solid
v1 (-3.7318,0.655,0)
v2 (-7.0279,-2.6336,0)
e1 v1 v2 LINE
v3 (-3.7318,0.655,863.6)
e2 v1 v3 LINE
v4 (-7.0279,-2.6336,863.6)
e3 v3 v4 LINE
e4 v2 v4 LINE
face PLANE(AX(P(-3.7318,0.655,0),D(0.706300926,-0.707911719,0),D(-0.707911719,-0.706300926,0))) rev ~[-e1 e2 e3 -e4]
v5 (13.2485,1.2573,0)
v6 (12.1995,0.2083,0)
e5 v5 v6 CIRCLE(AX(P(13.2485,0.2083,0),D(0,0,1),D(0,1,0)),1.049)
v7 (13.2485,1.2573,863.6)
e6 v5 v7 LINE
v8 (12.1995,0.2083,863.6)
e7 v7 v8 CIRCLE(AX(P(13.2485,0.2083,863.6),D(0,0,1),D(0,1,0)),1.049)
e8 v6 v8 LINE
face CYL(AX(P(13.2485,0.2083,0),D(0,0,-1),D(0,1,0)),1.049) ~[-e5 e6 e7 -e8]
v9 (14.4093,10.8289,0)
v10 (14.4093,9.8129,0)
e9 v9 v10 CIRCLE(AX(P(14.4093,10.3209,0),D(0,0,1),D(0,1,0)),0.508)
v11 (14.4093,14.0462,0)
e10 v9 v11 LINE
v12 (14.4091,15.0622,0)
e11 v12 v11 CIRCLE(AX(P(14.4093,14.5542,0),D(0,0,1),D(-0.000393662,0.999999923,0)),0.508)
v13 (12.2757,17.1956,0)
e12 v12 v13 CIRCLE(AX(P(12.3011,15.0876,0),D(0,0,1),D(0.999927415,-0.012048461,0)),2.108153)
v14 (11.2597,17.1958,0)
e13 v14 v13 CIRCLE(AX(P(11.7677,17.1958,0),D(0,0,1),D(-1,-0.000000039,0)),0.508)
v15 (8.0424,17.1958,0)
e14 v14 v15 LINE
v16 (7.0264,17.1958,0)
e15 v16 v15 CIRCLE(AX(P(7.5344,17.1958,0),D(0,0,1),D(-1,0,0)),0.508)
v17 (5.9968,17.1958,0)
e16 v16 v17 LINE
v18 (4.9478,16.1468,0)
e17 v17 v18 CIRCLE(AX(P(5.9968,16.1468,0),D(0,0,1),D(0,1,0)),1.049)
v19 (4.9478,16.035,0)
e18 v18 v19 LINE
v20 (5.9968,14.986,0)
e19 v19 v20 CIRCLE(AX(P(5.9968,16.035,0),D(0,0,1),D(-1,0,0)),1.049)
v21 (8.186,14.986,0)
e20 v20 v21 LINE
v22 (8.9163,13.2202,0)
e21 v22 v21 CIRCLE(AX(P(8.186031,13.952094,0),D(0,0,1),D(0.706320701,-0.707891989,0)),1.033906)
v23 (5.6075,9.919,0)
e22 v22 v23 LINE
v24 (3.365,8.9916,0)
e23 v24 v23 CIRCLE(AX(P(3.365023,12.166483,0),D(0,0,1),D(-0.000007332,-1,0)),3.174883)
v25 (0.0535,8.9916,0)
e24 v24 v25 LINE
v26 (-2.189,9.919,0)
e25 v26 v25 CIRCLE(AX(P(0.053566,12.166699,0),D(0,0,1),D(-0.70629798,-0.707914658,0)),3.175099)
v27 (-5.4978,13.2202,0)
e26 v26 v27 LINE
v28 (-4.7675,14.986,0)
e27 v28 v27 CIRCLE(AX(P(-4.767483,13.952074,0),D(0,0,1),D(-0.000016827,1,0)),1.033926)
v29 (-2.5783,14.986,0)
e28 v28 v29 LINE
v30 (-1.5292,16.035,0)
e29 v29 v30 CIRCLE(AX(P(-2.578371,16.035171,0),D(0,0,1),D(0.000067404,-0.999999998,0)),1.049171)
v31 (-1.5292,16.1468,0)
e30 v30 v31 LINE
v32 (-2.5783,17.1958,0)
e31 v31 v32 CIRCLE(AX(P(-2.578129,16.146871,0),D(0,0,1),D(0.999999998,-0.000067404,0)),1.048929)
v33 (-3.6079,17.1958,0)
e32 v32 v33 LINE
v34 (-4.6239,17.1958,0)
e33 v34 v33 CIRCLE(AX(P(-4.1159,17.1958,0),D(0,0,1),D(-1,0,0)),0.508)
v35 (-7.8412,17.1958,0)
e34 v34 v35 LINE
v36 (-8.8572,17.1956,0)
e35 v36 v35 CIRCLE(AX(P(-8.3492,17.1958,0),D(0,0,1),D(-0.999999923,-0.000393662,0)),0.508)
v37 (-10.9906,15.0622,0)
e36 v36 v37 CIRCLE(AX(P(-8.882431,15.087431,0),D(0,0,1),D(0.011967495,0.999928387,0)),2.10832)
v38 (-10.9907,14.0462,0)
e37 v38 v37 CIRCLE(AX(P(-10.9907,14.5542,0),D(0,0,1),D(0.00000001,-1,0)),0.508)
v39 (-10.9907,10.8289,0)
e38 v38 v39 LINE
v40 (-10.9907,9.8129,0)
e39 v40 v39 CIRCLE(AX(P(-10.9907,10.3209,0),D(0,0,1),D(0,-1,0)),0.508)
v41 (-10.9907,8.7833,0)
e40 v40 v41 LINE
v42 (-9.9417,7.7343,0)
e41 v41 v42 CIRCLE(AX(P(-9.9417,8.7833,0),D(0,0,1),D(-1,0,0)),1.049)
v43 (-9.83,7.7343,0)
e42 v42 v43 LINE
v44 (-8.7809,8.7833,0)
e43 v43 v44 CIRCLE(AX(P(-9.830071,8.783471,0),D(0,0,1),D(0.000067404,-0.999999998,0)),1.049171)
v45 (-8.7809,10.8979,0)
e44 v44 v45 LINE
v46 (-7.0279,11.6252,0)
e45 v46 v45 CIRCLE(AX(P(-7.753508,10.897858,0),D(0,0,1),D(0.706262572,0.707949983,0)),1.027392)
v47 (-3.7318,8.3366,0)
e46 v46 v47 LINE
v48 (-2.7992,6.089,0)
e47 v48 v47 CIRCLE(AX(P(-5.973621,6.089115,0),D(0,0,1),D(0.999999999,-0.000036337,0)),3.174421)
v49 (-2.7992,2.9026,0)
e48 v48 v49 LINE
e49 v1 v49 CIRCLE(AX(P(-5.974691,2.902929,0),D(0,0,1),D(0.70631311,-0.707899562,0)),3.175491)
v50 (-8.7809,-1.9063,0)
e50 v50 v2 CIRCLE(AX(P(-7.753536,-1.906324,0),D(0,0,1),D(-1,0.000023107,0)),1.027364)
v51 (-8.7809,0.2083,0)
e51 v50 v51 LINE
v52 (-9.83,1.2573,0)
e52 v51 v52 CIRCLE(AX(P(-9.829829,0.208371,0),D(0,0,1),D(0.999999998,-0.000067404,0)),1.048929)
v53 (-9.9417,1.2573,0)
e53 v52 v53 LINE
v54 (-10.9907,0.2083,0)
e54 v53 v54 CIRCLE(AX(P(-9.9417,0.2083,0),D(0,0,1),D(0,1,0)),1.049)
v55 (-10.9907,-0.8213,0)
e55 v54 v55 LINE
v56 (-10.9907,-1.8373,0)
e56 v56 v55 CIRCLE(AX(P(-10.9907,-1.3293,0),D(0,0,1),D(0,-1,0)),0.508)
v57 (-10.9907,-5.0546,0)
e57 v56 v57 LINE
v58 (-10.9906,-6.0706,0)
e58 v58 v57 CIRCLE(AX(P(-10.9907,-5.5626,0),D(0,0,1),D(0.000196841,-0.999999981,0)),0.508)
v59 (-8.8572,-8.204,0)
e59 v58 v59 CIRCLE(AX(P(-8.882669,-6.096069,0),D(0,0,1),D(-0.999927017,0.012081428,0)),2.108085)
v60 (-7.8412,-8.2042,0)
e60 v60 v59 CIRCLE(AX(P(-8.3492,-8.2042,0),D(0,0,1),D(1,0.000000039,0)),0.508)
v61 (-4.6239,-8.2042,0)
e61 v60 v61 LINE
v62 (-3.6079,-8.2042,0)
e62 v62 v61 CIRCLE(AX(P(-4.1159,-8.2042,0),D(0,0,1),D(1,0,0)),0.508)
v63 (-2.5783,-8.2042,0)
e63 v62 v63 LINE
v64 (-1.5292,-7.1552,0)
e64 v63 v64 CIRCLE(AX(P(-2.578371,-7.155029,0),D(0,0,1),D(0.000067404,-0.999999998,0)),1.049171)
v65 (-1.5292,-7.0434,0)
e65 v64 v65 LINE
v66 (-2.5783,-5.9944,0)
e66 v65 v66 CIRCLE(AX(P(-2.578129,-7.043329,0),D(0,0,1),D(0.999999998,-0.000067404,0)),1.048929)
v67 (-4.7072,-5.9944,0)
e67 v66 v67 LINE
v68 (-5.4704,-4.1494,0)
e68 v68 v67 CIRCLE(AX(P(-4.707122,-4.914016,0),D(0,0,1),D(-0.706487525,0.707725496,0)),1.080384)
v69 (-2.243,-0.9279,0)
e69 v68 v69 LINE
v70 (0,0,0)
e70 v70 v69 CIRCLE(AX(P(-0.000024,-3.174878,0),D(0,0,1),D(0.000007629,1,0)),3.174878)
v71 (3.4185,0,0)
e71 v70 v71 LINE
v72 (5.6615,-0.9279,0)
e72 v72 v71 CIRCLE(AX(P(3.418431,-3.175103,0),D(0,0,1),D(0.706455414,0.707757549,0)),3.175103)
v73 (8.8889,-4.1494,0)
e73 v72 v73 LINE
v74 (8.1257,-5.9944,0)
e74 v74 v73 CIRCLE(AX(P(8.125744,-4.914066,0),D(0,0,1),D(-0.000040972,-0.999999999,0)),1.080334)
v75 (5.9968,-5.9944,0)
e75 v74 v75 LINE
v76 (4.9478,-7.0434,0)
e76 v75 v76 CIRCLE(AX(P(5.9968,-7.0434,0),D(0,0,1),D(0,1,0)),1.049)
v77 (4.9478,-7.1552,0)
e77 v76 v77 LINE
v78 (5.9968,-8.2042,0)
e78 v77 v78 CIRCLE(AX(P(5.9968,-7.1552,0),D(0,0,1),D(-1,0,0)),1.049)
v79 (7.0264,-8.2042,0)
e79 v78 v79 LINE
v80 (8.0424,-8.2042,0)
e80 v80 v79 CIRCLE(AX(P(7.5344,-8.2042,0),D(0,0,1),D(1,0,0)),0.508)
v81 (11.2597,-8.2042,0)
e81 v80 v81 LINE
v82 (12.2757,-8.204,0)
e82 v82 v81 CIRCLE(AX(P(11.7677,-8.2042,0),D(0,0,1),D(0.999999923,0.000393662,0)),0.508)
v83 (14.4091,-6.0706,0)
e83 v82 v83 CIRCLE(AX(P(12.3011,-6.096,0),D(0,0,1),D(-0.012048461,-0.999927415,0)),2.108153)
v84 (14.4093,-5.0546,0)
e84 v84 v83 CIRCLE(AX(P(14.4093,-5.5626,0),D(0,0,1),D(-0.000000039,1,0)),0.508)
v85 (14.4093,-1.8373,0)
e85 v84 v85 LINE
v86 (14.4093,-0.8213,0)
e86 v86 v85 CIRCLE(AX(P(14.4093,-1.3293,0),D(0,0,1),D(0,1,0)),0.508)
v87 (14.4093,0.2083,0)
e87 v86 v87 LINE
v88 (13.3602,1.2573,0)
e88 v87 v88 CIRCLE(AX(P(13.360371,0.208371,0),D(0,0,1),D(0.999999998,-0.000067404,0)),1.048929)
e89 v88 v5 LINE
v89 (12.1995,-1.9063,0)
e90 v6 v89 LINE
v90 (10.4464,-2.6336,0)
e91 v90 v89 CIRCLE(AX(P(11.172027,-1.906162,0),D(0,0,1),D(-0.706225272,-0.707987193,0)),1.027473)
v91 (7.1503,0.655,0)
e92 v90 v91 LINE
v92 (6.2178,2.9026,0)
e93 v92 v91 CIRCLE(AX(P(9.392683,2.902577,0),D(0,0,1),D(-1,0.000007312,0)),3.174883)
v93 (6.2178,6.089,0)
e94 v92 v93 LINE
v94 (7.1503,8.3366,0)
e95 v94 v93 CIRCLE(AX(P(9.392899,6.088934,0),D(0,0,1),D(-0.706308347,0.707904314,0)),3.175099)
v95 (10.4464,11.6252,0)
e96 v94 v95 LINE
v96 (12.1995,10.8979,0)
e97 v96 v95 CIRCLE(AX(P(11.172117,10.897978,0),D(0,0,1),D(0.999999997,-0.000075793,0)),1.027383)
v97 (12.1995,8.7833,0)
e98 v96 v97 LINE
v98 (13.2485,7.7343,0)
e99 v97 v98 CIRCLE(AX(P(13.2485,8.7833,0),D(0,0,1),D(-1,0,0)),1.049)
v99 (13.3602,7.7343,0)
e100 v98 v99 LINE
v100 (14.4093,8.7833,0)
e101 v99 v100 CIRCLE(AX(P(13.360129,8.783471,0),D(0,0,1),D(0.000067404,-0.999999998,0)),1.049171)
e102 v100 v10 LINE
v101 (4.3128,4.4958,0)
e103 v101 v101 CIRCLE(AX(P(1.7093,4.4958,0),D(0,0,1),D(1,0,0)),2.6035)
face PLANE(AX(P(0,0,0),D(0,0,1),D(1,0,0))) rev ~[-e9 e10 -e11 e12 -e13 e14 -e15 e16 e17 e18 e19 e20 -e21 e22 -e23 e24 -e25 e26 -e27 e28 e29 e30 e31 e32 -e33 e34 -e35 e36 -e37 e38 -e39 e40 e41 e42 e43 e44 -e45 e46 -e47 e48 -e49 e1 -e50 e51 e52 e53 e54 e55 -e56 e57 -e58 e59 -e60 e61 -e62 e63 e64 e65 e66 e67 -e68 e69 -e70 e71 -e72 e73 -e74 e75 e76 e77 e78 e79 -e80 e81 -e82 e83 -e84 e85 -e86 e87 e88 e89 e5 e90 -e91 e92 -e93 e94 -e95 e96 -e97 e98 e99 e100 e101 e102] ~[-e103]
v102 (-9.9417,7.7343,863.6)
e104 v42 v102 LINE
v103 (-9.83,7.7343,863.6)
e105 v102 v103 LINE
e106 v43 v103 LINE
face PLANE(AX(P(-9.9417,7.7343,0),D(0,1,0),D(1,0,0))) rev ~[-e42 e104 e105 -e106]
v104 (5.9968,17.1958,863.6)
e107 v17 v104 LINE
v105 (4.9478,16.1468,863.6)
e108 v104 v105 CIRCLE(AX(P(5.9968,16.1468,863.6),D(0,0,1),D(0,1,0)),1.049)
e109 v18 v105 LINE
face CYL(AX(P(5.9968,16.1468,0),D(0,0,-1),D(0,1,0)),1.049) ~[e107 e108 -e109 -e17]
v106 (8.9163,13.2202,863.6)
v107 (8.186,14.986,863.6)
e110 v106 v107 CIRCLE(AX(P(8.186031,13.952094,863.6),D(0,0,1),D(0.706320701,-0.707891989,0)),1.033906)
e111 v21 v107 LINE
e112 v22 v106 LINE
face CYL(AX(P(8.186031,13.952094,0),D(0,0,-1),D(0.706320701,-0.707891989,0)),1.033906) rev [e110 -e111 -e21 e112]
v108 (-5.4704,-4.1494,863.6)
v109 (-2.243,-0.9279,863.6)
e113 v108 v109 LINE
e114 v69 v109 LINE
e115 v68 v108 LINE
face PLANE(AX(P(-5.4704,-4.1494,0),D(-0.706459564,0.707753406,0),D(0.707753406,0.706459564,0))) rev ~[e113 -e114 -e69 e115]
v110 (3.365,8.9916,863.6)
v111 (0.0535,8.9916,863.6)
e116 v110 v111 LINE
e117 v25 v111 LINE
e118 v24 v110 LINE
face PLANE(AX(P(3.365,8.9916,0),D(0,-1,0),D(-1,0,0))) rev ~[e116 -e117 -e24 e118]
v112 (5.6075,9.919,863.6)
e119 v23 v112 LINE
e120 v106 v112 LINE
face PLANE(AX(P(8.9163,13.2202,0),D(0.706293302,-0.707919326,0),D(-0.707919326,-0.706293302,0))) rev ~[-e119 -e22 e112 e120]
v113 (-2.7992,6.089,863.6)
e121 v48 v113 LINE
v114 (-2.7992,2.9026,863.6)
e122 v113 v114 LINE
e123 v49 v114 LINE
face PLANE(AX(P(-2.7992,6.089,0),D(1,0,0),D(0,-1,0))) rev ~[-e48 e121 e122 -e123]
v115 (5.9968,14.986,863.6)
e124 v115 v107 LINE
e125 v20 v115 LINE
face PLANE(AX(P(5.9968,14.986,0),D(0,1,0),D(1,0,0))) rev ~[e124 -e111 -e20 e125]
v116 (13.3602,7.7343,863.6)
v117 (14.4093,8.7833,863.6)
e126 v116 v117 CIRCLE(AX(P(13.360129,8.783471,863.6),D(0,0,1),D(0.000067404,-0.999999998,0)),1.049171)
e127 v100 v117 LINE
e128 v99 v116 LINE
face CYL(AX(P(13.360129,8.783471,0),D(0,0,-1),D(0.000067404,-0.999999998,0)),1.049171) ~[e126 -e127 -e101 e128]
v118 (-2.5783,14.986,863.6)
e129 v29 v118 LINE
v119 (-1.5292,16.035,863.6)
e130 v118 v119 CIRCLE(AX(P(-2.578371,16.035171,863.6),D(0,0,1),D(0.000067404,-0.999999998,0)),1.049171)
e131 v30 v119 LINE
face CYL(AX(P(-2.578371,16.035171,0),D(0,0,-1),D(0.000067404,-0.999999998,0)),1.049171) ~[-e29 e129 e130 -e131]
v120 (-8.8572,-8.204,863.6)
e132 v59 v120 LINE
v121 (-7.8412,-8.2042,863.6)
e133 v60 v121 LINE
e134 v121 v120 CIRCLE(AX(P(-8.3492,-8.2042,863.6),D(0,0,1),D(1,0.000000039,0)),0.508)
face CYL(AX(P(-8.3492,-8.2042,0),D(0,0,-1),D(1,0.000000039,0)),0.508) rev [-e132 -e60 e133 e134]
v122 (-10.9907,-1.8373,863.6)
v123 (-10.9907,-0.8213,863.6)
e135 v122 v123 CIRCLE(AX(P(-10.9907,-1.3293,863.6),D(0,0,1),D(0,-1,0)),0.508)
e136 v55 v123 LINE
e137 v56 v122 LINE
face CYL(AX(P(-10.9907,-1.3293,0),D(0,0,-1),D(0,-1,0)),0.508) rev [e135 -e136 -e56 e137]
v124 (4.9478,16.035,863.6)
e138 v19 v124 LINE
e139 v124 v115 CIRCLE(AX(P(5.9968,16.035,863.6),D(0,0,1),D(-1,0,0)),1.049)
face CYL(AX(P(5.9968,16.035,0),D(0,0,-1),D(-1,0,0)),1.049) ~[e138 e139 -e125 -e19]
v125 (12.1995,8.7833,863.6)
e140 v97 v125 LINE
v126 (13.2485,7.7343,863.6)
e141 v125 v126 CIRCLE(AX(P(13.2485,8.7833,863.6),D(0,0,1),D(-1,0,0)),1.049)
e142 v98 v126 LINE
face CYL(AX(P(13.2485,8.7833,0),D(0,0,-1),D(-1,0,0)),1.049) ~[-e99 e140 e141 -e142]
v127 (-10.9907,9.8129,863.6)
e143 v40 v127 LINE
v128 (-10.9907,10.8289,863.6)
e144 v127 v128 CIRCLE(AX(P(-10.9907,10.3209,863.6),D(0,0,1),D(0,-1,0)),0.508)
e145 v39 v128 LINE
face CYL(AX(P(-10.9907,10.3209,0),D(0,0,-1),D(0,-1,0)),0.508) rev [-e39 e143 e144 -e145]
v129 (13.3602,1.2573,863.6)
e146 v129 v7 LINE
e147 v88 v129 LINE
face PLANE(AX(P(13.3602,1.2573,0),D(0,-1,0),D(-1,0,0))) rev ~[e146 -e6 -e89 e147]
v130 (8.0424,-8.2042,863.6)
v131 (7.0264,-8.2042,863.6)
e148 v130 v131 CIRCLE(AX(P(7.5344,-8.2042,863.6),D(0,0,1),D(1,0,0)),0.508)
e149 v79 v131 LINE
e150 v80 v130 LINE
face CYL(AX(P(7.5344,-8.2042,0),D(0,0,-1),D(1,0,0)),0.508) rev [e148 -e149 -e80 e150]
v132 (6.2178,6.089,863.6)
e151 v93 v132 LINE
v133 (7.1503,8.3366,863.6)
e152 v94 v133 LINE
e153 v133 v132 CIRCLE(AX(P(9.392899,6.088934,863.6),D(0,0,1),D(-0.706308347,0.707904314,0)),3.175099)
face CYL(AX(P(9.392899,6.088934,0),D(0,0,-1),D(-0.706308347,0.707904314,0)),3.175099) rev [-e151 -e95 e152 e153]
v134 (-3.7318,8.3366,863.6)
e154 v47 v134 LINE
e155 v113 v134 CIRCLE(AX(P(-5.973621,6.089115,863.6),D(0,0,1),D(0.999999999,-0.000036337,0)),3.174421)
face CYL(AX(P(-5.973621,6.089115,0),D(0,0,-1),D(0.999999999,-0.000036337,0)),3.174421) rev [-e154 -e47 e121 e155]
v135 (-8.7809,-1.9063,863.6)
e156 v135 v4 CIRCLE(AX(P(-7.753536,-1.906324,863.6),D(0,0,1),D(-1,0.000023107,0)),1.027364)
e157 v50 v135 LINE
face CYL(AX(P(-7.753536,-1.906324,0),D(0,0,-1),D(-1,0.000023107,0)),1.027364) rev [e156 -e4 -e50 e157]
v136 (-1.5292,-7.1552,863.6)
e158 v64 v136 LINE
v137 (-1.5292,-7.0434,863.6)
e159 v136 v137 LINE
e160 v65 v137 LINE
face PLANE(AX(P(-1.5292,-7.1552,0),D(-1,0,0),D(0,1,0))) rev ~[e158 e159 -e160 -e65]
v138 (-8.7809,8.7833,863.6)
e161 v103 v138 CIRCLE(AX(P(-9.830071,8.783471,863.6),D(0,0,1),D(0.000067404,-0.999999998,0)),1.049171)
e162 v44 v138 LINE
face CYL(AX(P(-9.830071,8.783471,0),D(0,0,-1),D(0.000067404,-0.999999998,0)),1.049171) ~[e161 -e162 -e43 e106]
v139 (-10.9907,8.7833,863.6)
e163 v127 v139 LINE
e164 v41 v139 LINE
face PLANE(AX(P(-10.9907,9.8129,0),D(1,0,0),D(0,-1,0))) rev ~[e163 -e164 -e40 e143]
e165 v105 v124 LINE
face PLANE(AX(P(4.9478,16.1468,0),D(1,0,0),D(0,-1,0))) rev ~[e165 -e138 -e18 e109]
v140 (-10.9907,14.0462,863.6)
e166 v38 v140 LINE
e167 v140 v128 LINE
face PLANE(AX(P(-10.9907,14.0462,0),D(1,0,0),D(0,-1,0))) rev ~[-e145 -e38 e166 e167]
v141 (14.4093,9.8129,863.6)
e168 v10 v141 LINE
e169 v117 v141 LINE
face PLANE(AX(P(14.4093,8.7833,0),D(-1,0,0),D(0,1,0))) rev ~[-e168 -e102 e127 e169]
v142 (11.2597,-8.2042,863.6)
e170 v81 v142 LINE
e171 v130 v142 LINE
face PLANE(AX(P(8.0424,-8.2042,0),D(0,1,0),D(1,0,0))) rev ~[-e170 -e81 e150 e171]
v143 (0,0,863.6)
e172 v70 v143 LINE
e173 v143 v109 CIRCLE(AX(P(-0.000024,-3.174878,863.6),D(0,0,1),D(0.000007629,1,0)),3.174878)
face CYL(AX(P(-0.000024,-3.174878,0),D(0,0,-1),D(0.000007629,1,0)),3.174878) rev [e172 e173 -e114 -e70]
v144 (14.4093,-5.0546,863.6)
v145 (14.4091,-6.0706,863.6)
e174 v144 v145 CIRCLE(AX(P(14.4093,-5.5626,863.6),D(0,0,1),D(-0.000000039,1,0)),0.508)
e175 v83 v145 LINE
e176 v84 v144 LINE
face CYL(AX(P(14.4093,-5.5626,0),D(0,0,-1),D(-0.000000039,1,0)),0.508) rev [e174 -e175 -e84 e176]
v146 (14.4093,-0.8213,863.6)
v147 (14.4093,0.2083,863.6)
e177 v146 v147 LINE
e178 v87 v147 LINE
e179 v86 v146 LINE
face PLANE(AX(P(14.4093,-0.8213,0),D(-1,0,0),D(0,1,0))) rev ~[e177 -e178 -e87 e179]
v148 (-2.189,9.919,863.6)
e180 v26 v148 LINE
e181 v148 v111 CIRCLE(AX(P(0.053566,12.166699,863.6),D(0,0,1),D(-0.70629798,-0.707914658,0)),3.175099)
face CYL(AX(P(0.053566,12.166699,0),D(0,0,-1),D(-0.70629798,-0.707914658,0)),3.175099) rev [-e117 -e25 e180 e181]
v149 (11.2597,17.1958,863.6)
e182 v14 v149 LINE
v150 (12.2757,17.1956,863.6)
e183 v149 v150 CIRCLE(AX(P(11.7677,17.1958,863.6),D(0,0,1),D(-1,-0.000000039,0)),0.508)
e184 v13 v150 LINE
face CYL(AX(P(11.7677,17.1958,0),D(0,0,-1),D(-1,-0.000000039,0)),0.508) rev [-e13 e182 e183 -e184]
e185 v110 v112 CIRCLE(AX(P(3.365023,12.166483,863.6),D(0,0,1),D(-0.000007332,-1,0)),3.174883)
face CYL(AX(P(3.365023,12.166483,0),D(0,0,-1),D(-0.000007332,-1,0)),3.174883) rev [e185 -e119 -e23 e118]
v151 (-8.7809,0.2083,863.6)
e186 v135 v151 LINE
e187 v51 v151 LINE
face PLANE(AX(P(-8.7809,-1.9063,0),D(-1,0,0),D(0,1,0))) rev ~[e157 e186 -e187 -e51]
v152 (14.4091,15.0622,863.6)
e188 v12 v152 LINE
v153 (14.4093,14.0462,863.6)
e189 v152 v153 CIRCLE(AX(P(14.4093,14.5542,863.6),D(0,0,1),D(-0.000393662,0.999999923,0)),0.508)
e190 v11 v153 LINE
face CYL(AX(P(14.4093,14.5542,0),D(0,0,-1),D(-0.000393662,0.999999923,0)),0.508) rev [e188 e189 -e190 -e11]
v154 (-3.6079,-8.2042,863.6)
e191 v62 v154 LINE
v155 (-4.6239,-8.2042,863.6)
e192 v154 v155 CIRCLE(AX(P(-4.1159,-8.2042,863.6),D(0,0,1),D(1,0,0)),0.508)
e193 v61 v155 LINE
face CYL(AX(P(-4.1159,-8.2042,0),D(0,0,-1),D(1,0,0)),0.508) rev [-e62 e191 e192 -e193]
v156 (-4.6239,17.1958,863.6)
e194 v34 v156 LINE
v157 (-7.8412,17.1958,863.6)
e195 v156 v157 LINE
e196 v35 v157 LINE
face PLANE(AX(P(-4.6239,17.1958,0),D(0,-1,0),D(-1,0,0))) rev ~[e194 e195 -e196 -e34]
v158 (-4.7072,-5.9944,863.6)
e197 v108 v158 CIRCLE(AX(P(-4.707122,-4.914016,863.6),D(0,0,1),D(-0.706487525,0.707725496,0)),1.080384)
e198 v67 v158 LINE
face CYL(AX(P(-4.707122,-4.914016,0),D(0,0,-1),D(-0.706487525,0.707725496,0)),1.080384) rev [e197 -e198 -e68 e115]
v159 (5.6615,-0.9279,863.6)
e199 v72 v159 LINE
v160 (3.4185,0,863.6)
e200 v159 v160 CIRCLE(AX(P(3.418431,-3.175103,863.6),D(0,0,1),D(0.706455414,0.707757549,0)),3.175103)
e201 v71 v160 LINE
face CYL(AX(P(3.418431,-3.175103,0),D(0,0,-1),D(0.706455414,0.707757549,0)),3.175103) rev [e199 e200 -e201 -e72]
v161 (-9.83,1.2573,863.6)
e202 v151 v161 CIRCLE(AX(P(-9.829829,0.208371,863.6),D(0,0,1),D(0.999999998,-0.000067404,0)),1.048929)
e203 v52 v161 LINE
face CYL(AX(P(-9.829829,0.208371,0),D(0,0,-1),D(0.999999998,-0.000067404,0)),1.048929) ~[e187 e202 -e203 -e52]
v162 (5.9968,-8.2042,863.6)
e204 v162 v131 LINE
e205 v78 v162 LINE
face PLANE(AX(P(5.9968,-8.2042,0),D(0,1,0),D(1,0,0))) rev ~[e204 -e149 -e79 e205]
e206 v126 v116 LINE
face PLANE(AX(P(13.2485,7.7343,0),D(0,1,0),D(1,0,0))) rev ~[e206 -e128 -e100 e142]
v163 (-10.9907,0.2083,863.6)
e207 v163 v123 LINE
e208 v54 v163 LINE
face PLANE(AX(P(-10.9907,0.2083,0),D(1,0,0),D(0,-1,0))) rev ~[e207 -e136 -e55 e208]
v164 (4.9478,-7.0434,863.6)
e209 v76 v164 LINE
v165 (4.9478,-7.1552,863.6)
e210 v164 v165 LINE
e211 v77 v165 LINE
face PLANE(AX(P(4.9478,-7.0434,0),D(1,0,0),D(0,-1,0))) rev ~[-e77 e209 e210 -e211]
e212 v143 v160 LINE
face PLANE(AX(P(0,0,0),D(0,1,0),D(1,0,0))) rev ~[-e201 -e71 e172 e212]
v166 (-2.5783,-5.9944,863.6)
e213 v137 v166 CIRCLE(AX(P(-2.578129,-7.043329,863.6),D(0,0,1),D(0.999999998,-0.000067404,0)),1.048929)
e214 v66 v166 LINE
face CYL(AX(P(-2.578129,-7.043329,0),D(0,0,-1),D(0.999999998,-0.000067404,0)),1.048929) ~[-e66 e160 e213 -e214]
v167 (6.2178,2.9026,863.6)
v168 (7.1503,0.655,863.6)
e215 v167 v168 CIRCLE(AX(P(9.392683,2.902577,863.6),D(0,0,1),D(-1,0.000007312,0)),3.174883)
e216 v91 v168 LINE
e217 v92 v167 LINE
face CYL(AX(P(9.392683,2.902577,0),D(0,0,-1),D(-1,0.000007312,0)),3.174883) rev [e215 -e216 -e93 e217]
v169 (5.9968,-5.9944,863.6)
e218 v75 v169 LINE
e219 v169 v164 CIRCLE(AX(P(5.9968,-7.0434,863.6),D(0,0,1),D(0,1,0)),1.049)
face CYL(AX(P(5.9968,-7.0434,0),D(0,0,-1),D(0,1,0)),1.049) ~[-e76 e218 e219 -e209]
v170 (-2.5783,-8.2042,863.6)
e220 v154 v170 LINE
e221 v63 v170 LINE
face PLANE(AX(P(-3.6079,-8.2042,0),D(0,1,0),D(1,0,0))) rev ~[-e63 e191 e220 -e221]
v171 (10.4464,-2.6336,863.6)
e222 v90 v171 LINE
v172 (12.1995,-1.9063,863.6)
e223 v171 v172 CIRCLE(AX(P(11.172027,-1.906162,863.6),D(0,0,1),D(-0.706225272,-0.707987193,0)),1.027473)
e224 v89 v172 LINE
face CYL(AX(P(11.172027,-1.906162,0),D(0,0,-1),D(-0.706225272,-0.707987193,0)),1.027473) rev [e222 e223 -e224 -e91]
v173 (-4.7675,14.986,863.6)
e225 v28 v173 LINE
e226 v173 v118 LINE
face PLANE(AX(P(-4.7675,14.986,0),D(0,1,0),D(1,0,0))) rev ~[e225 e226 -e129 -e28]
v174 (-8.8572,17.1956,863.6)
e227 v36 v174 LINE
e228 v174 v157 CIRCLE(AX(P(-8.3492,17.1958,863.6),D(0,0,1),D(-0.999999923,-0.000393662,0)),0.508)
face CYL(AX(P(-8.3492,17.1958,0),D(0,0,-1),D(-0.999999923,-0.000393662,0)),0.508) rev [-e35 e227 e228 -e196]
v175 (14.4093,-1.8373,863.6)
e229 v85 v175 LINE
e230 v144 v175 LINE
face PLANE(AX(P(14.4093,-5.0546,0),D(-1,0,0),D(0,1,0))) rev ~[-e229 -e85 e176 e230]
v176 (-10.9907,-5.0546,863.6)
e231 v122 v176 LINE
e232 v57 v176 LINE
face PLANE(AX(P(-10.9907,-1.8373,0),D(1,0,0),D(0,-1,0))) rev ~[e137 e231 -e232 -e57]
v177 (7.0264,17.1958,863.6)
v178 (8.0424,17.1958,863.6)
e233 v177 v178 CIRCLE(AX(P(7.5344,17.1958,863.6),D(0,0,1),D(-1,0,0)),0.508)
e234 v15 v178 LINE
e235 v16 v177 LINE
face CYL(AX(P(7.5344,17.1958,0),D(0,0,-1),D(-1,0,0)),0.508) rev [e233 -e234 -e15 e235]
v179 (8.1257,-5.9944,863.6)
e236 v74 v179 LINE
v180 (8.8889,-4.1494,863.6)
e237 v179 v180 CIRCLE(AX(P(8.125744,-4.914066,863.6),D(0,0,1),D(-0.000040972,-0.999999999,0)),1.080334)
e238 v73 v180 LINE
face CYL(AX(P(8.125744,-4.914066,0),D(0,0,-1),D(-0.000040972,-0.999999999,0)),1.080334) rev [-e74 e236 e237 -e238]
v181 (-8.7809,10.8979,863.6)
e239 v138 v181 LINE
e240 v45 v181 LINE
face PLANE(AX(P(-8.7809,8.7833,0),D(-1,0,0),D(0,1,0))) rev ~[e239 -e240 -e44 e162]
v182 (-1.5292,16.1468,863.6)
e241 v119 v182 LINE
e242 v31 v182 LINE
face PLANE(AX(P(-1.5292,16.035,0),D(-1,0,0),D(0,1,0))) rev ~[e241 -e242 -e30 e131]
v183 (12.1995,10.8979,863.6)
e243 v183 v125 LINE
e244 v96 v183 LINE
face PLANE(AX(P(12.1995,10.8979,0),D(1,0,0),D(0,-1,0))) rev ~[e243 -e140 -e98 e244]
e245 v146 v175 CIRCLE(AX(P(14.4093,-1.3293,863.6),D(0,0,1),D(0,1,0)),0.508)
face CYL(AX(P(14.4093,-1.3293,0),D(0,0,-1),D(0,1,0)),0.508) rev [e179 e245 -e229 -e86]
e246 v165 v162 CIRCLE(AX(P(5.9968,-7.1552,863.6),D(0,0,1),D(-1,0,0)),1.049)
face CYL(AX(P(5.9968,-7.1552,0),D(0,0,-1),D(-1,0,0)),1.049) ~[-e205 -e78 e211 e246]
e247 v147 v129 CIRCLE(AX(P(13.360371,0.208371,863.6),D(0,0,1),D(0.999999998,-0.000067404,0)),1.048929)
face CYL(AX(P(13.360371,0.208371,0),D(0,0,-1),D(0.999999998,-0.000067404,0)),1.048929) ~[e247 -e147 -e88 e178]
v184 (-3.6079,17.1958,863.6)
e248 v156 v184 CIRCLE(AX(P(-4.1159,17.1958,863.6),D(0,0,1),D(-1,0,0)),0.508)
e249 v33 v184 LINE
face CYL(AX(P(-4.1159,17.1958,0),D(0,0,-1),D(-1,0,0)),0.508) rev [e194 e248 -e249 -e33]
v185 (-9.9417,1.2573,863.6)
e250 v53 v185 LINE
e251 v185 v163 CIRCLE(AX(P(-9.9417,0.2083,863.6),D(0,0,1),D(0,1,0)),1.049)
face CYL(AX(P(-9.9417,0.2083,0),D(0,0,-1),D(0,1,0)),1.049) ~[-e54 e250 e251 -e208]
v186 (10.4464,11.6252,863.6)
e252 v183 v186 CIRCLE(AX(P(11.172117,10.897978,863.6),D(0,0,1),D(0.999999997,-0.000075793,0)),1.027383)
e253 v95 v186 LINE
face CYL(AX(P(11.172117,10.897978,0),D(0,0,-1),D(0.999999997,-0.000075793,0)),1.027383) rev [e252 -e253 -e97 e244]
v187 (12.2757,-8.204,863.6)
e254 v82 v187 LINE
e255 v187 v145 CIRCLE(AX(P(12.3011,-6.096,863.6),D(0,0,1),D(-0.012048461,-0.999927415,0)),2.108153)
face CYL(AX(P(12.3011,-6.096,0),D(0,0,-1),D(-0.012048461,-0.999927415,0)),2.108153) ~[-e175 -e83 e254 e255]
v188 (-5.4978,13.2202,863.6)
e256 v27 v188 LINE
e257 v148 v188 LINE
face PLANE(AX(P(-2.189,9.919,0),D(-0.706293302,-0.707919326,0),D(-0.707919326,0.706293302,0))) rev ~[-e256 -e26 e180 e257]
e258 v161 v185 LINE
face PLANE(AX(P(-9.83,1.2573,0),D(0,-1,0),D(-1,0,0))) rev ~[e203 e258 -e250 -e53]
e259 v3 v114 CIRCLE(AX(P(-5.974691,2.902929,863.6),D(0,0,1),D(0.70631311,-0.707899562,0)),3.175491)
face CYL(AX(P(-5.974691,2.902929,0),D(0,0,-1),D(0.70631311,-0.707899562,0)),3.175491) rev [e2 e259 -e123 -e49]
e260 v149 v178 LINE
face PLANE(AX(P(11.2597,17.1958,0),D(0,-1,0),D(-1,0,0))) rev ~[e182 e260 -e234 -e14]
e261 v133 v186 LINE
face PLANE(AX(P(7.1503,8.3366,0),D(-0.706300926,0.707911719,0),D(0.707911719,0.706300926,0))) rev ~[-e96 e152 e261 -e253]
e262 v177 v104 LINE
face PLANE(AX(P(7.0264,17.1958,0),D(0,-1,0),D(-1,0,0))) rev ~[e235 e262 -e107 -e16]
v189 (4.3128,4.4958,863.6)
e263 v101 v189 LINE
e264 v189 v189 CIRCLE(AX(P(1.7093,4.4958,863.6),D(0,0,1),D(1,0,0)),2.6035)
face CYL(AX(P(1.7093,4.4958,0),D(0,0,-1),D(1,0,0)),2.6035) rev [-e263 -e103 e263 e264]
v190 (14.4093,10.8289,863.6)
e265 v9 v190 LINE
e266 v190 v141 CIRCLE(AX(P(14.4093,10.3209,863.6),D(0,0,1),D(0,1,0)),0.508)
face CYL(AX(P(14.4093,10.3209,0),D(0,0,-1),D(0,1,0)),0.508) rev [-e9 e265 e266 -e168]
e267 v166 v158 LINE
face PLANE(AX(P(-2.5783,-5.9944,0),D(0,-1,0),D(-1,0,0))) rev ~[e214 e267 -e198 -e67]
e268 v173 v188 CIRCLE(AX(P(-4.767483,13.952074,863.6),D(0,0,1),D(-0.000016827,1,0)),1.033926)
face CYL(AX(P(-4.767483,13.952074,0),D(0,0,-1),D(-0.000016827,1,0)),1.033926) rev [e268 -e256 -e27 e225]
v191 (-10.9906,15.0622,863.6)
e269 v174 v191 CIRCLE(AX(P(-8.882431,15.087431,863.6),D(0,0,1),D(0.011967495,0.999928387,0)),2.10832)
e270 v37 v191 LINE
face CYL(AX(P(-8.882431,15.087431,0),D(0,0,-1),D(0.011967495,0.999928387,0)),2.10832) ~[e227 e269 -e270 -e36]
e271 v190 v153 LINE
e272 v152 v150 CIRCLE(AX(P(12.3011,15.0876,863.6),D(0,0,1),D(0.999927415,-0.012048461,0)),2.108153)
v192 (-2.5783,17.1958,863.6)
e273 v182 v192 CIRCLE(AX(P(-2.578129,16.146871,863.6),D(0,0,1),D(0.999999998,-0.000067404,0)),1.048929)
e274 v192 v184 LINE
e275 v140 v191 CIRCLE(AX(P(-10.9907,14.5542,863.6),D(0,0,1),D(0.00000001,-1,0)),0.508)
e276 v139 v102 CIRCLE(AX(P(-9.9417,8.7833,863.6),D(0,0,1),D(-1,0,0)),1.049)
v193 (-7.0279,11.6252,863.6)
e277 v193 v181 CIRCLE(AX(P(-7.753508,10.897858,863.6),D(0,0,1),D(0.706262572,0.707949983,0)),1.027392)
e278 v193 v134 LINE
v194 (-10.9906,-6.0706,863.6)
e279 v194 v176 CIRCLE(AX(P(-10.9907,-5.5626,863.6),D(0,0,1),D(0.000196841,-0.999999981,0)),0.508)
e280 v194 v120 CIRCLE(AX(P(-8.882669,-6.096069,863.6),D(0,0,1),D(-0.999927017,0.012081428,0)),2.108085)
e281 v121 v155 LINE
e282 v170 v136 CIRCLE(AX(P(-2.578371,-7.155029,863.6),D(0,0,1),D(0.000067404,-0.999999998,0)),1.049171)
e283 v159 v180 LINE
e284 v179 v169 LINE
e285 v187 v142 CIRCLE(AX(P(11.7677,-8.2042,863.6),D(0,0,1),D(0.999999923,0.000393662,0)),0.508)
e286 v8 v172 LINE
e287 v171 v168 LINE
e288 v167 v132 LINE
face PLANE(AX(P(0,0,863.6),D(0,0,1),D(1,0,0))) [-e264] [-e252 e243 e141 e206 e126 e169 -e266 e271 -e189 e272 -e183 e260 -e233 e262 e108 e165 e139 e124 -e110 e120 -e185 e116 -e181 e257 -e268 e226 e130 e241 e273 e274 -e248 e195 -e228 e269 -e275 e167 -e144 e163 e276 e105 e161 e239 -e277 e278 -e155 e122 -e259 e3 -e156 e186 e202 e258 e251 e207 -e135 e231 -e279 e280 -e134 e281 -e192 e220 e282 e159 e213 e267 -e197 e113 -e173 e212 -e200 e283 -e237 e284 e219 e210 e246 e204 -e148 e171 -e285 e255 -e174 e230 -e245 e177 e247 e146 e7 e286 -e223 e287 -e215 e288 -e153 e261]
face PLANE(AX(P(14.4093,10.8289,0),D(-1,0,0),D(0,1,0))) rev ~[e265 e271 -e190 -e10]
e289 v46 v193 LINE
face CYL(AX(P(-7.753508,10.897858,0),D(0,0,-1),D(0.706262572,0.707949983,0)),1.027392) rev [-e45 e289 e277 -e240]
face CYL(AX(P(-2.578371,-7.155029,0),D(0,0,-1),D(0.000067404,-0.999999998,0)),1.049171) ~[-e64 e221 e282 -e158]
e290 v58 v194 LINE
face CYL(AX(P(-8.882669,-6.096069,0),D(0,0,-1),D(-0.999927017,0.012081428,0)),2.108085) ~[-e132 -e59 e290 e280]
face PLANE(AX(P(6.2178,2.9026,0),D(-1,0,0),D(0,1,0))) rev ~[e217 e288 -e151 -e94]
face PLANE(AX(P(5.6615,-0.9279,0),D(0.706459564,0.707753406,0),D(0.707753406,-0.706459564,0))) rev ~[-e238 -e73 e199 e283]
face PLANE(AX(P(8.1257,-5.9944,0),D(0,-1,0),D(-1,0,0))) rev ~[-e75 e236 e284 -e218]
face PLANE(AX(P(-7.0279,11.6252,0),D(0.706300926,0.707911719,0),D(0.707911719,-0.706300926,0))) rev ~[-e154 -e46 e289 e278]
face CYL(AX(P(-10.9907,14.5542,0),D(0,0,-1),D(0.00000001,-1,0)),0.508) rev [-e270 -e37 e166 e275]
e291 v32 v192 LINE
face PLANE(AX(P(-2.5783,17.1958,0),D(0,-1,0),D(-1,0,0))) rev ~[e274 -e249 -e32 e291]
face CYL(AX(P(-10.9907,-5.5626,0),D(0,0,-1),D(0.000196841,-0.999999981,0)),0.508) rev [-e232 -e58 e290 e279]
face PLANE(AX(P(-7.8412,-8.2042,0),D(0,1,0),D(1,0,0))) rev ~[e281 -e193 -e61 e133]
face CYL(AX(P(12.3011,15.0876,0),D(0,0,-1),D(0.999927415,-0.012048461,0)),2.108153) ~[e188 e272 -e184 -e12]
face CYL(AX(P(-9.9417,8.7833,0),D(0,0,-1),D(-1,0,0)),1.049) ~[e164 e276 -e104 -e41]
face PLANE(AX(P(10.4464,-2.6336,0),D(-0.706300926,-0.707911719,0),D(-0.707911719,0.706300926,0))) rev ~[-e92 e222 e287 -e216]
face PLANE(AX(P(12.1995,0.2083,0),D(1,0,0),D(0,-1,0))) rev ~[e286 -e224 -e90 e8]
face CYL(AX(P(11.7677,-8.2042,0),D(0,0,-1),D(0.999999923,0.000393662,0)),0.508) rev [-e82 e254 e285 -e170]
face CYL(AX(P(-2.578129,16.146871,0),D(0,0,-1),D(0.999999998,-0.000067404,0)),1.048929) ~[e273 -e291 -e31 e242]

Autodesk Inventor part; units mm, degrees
ref_plane "YZ Plane" through (0, 0, 0) normal (1, 0, 0) x (0, 1, 0)
ref_plane "XZ Plane" through (0, 0, 0) normal (0, 1, 0) x (-1, 0, 0)
ref_plane "XY Plane" through (0, 0, 0) normal (0, 0, 1) x (1, 0, 0)
sketch "Sketch1" plane through (0, 0, 0) normal (0, 0, 1) x (1, 0, 0)
  arc A0 (-5.4704, -4.1494) -> (-4.7072, -5.9944) centre (-4.7072, -4.914) ccw
  line L0 (-5.4704, -4.1494) -> (-2.243, -0.9279)
  arc A1 (0, 0) -> (-2.243, -0.9279) centre (0, -3.175) ccw
  line L1 (0, 0) -> (3.4185, 0)
  arc A2 (5.6615, -0.9279) -> (3.4185, 0) centre (3.4185, -3.175) ccw
  line L2 (5.6615, -0.9279) -> (8.8889, -4.1494)
  arc A3 (8.1257, -5.9944) -> (8.8889, -4.1494) centre (8.1257, -4.914) ccw
  line L3 (8.1257, -5.9944) -> (5.9968, -5.9944)
  arc A4 (5.9968, -5.9944) -> (4.9478, -7.0434) centre (5.9968, -7.0434) ccw
  line L4 (4.9478, -7.0434) -> (4.9478, -7.1552)
  arc A5 (4.9478, -7.1552) -> (5.9968, -8.2042) centre (5.9968, -7.1552) ccw
  line L5 (5.9968, -8.2042) -> (7.0264, -8.2042)
  arc A6 (8.0424, -8.2042) -> (7.0264, -8.2042) centre (7.5344, -8.2042) ccw
  line L6 (8.0424, -8.2042) -> (11.2597, -8.2042)
  arc A7 (12.2757, -8.204) -> (11.2597, -8.2042) centre (11.7677, -8.2042) ccw
  arc A8 (12.2757, -8.204) -> (14.4091, -6.0706) centre (12.3011, -6.096) ccw
  arc A9 (14.4093, -5.0546) -> (14.4091, -6.0706) centre (14.4093, -5.5626) ccw
  line L7 (14.4093, -5.0546) -> (14.4093, -1.8373)
  arc A10 (14.4093, -0.8213) -> (14.4093, -1.8373) centre (14.4093, -1.3293) ccw
  line L8 (14.4093, -0.8213) -> (14.4093, 0.2083)
  arc A11 (14.4093, 0.2083) -> (13.3602, 1.2573) centre (13.3602, 0.2083) ccw
  line L9 (13.3602, 1.2573) -> (13.2485, 1.2573)
  arc A12 (13.2485, 1.2573) -> (12.1995, 0.2083) centre (13.2485, 0.2083) ccw
  line L10 (12.1995, 0.2083) -> (12.1995, -1.9063)
  arc A13 (10.4464, -2.6336) -> (12.1995, -1.9063) centre (11.172, -1.9063) ccw
  line L11 (10.4464, -2.6336) -> (7.1503, 0.655)
  arc A14 (6.2178, 2.9026) -> (7.1503, 0.655) centre (9.3928, 2.9026) ccw
  line L12 (6.2178, 2.9026) -> (6.2178, 6.089)
  arc A15 (7.1503, 8.3366) -> (6.2178, 6.089) centre (9.3928, 6.089) ccw
  line L13 (7.1503, 8.3366) -> (10.4464, 11.6252)
  arc A16 (12.1995, 10.8979) -> (10.4464, 11.6252) centre (11.172, 10.8979) ccw
  line L14 (12.1995, 10.8979) -> (12.1995, 8.7833)
  arc A17 (12.1995, 8.7833) -> (13.2485, 7.7343) centre (13.2485, 8.7833) ccw
  line L15 (13.2485, 7.7343) -> (13.3602, 7.7343)
  arc A18 (13.3602, 7.7343) -> (14.4093, 8.7833) centre (13.3602, 8.7833) ccw
  line L16 (14.4093, 8.7833) -> (14.4093, 9.8129)
  arc A19 (14.4093, 10.8289) -> (14.4093, 9.8129) centre (14.4093, 10.3209) ccw
  line L17 (14.4093, 10.8289) -> (14.4093, 14.0462)
  arc A20 (14.4091, 15.0622) -> (14.4093, 14.0462) centre (14.4093, 14.5542) ccw
  arc A21 (14.4091, 15.0622) -> (12.2757, 17.1956) centre (12.3011, 15.0876) ccw
  arc A22 (11.2597, 17.1958) -> (12.2757, 17.1956) centre (11.7677, 17.1958) ccw
  line L18 (11.2597, 17.1958) -> (8.0424, 17.1958)
  arc A23 (7.0264, 17.1958) -> (8.0424, 17.1958) centre (7.5344, 17.1958) ccw
  line L19 (7.0264, 17.1958) -> (5.9968, 17.1958)
  arc A24 (5.9968, 17.1958) -> (4.9478, 16.1468) centre (5.9968, 16.1468) ccw
  line L20 (4.9478, 16.1468) -> (4.9478, 16.035)
  arc A25 (4.9478, 16.035) -> (5.9968, 14.986) centre (5.9968, 16.035) ccw
  line L21 (5.9968, 14.986) -> (8.186, 14.986)
  arc A26 (8.9163, 13.2202) -> (8.186, 14.986) centre (8.186, 13.9521) ccw
  line L22 (8.9163, 13.2202) -> (5.6075, 9.919)
  arc A27 (3.365, 8.9916) -> (5.6075, 9.919) centre (3.365, 12.1666) ccw
  line L23 (3.365, 8.9916) -> (0.0535, 8.9916)
  arc A28 (-2.189, 9.919) -> (0.0535, 8.9916) centre (0.0535, 12.1666) ccw
  line L24 (-2.189, 9.919) -> (-5.4978, 13.2202)
  arc A29 (-4.7675, 14.986) -> (-5.4978, 13.2202) centre (-4.7675, 13.9521) ccw
  line L25 (-4.7675, 14.986) -> (-2.5783, 14.986)
  arc A30 (-2.5783, 14.986) -> (-1.5292, 16.035) centre (-2.5783, 16.035) ccw
  line L26 (-1.5292, 16.035) -> (-1.5292, 16.1468)
  arc A31 (-1.5292, 16.1468) -> (-2.5783, 17.1958) centre (-2.5783, 16.1468) ccw
  line L27 (-2.5783, 17.1958) -> (-3.6079, 17.1958)
  arc A32 (-4.6239, 17.1958) -> (-3.6079, 17.1958) centre (-4.1159, 17.1958) ccw
  line L28 (-4.6239, 17.1958) -> (-7.8412, 17.1958)
  arc A33 (-8.8572, 17.1956) -> (-7.8412, 17.1958) centre (-8.3492, 17.1958) ccw
  arc A34 (-8.8572, 17.1956) -> (-10.9906, 15.0622) centre (-8.8825, 15.0876) ccw
  arc A35 (-10.9907, 14.0462) -> (-10.9906, 15.0622) centre (-10.9907, 14.5542) ccw
  line L29 (-10.9907, 14.0462) -> (-10.9907, 10.8289)
  arc A36 (-10.9907, 9.8129) -> (-10.9907, 10.8289) centre (-10.9907, 10.3209) ccw
  line L30 (-10.9907, 9.8129) -> (-10.9907, 8.7833)
  arc A37 (-10.9907, 8.7833) -> (-9.9417, 7.7343) centre (-9.9417, 8.7833) ccw
  line L31 (-9.9417, 7.7343) -> (-9.83, 7.7343)
  arc A38 (-9.83, 7.7343) -> (-8.7809, 8.7833) centre (-9.83, 8.7833) ccw
  line L32 (-8.7809, 8.7833) -> (-8.7809, 10.8979)
  arc A39 (-7.0279, 11.6252) -> (-8.7809, 10.8979) centre (-7.7535, 10.8979) ccw
  line L33 (-7.0279, 11.6252) -> (-3.7318, 8.3366)
  arc A40 (-2.7992, 6.089) -> (-3.7318, 8.3366) centre (-5.9742, 6.089) ccw
  line L34 (-2.7992, 6.089) -> (-2.7992, 2.9026)
  arc A41 (-3.7318, 0.655) -> (-2.7992, 2.9026) centre (-5.9742, 2.9026) ccw
  line L35 (-3.7318, 0.655) -> (-7.0279, -2.6336)
  arc A42 (-8.7809, -1.9063) -> (-7.0279, -2.6336) centre (-7.7535, -1.9063) ccw
  line L36 (-8.7809, -1.9063) -> (-8.7809, 0.2083)
  arc A43 (-8.7809, 0.2083) -> (-9.83, 1.2573) centre (-9.83, 0.2083) ccw
  line L37 (-9.83, 1.2573) -> (-9.9417, 1.2573)
  arc A44 (-9.9417, 1.2573) -> (-10.9907, 0.2083) centre (-9.9417, 0.2083) ccw
  line L38 (-10.9907, 0.2083) -> (-10.9907, -0.8213)
  arc A45 (-10.9907, -1.8373) -> (-10.9907, -0.8213) centre (-10.9907, -1.3293) ccw
  line L39 (-10.9907, -1.8373) -> (-10.9907, -5.0546)
  arc A46 (-10.9906, -6.0706) -> (-10.9907, -5.0546) centre (-10.9907, -5.5626) ccw
  arc A47 (-10.9906, -6.0706) -> (-8.8572, -8.204) centre (-8.8825, -6.096) ccw
  arc A48 (-7.8412, -8.2042) -> (-8.8572, -8.204) centre (-8.3492, -8.2042) ccw
  line L40 (-7.8412, -8.2042) -> (-4.6239, -8.2042)
  arc A49 (-3.6079, -8.2042) -> (-4.6239, -8.2042) centre (-4.1159, -8.2042) ccw
  line L41 (-3.6079, -8.2042) -> (-2.5783, -8.2042)
  arc A50 (-2.5783, -8.2042) -> (-1.5292, -7.1552) centre (-2.5783, -7.1552) ccw
  line L42 (-1.5292, -7.1552) -> (-1.5292, -7.0434)
  arc A51 (-1.5292, -7.0434) -> (-2.5783, -5.9944) centre (-2.5783, -7.0434) ccw
  line L43 (-2.5783, -5.9944) -> (-4.7072, -5.9944)
  circle A52 centre (1.7093, 4.4958) radius 2.6035
extrude "Extrusion1" add sketch "Sketch1" along normal blind 863.6
properties part number "34in 1x1 T slot"
